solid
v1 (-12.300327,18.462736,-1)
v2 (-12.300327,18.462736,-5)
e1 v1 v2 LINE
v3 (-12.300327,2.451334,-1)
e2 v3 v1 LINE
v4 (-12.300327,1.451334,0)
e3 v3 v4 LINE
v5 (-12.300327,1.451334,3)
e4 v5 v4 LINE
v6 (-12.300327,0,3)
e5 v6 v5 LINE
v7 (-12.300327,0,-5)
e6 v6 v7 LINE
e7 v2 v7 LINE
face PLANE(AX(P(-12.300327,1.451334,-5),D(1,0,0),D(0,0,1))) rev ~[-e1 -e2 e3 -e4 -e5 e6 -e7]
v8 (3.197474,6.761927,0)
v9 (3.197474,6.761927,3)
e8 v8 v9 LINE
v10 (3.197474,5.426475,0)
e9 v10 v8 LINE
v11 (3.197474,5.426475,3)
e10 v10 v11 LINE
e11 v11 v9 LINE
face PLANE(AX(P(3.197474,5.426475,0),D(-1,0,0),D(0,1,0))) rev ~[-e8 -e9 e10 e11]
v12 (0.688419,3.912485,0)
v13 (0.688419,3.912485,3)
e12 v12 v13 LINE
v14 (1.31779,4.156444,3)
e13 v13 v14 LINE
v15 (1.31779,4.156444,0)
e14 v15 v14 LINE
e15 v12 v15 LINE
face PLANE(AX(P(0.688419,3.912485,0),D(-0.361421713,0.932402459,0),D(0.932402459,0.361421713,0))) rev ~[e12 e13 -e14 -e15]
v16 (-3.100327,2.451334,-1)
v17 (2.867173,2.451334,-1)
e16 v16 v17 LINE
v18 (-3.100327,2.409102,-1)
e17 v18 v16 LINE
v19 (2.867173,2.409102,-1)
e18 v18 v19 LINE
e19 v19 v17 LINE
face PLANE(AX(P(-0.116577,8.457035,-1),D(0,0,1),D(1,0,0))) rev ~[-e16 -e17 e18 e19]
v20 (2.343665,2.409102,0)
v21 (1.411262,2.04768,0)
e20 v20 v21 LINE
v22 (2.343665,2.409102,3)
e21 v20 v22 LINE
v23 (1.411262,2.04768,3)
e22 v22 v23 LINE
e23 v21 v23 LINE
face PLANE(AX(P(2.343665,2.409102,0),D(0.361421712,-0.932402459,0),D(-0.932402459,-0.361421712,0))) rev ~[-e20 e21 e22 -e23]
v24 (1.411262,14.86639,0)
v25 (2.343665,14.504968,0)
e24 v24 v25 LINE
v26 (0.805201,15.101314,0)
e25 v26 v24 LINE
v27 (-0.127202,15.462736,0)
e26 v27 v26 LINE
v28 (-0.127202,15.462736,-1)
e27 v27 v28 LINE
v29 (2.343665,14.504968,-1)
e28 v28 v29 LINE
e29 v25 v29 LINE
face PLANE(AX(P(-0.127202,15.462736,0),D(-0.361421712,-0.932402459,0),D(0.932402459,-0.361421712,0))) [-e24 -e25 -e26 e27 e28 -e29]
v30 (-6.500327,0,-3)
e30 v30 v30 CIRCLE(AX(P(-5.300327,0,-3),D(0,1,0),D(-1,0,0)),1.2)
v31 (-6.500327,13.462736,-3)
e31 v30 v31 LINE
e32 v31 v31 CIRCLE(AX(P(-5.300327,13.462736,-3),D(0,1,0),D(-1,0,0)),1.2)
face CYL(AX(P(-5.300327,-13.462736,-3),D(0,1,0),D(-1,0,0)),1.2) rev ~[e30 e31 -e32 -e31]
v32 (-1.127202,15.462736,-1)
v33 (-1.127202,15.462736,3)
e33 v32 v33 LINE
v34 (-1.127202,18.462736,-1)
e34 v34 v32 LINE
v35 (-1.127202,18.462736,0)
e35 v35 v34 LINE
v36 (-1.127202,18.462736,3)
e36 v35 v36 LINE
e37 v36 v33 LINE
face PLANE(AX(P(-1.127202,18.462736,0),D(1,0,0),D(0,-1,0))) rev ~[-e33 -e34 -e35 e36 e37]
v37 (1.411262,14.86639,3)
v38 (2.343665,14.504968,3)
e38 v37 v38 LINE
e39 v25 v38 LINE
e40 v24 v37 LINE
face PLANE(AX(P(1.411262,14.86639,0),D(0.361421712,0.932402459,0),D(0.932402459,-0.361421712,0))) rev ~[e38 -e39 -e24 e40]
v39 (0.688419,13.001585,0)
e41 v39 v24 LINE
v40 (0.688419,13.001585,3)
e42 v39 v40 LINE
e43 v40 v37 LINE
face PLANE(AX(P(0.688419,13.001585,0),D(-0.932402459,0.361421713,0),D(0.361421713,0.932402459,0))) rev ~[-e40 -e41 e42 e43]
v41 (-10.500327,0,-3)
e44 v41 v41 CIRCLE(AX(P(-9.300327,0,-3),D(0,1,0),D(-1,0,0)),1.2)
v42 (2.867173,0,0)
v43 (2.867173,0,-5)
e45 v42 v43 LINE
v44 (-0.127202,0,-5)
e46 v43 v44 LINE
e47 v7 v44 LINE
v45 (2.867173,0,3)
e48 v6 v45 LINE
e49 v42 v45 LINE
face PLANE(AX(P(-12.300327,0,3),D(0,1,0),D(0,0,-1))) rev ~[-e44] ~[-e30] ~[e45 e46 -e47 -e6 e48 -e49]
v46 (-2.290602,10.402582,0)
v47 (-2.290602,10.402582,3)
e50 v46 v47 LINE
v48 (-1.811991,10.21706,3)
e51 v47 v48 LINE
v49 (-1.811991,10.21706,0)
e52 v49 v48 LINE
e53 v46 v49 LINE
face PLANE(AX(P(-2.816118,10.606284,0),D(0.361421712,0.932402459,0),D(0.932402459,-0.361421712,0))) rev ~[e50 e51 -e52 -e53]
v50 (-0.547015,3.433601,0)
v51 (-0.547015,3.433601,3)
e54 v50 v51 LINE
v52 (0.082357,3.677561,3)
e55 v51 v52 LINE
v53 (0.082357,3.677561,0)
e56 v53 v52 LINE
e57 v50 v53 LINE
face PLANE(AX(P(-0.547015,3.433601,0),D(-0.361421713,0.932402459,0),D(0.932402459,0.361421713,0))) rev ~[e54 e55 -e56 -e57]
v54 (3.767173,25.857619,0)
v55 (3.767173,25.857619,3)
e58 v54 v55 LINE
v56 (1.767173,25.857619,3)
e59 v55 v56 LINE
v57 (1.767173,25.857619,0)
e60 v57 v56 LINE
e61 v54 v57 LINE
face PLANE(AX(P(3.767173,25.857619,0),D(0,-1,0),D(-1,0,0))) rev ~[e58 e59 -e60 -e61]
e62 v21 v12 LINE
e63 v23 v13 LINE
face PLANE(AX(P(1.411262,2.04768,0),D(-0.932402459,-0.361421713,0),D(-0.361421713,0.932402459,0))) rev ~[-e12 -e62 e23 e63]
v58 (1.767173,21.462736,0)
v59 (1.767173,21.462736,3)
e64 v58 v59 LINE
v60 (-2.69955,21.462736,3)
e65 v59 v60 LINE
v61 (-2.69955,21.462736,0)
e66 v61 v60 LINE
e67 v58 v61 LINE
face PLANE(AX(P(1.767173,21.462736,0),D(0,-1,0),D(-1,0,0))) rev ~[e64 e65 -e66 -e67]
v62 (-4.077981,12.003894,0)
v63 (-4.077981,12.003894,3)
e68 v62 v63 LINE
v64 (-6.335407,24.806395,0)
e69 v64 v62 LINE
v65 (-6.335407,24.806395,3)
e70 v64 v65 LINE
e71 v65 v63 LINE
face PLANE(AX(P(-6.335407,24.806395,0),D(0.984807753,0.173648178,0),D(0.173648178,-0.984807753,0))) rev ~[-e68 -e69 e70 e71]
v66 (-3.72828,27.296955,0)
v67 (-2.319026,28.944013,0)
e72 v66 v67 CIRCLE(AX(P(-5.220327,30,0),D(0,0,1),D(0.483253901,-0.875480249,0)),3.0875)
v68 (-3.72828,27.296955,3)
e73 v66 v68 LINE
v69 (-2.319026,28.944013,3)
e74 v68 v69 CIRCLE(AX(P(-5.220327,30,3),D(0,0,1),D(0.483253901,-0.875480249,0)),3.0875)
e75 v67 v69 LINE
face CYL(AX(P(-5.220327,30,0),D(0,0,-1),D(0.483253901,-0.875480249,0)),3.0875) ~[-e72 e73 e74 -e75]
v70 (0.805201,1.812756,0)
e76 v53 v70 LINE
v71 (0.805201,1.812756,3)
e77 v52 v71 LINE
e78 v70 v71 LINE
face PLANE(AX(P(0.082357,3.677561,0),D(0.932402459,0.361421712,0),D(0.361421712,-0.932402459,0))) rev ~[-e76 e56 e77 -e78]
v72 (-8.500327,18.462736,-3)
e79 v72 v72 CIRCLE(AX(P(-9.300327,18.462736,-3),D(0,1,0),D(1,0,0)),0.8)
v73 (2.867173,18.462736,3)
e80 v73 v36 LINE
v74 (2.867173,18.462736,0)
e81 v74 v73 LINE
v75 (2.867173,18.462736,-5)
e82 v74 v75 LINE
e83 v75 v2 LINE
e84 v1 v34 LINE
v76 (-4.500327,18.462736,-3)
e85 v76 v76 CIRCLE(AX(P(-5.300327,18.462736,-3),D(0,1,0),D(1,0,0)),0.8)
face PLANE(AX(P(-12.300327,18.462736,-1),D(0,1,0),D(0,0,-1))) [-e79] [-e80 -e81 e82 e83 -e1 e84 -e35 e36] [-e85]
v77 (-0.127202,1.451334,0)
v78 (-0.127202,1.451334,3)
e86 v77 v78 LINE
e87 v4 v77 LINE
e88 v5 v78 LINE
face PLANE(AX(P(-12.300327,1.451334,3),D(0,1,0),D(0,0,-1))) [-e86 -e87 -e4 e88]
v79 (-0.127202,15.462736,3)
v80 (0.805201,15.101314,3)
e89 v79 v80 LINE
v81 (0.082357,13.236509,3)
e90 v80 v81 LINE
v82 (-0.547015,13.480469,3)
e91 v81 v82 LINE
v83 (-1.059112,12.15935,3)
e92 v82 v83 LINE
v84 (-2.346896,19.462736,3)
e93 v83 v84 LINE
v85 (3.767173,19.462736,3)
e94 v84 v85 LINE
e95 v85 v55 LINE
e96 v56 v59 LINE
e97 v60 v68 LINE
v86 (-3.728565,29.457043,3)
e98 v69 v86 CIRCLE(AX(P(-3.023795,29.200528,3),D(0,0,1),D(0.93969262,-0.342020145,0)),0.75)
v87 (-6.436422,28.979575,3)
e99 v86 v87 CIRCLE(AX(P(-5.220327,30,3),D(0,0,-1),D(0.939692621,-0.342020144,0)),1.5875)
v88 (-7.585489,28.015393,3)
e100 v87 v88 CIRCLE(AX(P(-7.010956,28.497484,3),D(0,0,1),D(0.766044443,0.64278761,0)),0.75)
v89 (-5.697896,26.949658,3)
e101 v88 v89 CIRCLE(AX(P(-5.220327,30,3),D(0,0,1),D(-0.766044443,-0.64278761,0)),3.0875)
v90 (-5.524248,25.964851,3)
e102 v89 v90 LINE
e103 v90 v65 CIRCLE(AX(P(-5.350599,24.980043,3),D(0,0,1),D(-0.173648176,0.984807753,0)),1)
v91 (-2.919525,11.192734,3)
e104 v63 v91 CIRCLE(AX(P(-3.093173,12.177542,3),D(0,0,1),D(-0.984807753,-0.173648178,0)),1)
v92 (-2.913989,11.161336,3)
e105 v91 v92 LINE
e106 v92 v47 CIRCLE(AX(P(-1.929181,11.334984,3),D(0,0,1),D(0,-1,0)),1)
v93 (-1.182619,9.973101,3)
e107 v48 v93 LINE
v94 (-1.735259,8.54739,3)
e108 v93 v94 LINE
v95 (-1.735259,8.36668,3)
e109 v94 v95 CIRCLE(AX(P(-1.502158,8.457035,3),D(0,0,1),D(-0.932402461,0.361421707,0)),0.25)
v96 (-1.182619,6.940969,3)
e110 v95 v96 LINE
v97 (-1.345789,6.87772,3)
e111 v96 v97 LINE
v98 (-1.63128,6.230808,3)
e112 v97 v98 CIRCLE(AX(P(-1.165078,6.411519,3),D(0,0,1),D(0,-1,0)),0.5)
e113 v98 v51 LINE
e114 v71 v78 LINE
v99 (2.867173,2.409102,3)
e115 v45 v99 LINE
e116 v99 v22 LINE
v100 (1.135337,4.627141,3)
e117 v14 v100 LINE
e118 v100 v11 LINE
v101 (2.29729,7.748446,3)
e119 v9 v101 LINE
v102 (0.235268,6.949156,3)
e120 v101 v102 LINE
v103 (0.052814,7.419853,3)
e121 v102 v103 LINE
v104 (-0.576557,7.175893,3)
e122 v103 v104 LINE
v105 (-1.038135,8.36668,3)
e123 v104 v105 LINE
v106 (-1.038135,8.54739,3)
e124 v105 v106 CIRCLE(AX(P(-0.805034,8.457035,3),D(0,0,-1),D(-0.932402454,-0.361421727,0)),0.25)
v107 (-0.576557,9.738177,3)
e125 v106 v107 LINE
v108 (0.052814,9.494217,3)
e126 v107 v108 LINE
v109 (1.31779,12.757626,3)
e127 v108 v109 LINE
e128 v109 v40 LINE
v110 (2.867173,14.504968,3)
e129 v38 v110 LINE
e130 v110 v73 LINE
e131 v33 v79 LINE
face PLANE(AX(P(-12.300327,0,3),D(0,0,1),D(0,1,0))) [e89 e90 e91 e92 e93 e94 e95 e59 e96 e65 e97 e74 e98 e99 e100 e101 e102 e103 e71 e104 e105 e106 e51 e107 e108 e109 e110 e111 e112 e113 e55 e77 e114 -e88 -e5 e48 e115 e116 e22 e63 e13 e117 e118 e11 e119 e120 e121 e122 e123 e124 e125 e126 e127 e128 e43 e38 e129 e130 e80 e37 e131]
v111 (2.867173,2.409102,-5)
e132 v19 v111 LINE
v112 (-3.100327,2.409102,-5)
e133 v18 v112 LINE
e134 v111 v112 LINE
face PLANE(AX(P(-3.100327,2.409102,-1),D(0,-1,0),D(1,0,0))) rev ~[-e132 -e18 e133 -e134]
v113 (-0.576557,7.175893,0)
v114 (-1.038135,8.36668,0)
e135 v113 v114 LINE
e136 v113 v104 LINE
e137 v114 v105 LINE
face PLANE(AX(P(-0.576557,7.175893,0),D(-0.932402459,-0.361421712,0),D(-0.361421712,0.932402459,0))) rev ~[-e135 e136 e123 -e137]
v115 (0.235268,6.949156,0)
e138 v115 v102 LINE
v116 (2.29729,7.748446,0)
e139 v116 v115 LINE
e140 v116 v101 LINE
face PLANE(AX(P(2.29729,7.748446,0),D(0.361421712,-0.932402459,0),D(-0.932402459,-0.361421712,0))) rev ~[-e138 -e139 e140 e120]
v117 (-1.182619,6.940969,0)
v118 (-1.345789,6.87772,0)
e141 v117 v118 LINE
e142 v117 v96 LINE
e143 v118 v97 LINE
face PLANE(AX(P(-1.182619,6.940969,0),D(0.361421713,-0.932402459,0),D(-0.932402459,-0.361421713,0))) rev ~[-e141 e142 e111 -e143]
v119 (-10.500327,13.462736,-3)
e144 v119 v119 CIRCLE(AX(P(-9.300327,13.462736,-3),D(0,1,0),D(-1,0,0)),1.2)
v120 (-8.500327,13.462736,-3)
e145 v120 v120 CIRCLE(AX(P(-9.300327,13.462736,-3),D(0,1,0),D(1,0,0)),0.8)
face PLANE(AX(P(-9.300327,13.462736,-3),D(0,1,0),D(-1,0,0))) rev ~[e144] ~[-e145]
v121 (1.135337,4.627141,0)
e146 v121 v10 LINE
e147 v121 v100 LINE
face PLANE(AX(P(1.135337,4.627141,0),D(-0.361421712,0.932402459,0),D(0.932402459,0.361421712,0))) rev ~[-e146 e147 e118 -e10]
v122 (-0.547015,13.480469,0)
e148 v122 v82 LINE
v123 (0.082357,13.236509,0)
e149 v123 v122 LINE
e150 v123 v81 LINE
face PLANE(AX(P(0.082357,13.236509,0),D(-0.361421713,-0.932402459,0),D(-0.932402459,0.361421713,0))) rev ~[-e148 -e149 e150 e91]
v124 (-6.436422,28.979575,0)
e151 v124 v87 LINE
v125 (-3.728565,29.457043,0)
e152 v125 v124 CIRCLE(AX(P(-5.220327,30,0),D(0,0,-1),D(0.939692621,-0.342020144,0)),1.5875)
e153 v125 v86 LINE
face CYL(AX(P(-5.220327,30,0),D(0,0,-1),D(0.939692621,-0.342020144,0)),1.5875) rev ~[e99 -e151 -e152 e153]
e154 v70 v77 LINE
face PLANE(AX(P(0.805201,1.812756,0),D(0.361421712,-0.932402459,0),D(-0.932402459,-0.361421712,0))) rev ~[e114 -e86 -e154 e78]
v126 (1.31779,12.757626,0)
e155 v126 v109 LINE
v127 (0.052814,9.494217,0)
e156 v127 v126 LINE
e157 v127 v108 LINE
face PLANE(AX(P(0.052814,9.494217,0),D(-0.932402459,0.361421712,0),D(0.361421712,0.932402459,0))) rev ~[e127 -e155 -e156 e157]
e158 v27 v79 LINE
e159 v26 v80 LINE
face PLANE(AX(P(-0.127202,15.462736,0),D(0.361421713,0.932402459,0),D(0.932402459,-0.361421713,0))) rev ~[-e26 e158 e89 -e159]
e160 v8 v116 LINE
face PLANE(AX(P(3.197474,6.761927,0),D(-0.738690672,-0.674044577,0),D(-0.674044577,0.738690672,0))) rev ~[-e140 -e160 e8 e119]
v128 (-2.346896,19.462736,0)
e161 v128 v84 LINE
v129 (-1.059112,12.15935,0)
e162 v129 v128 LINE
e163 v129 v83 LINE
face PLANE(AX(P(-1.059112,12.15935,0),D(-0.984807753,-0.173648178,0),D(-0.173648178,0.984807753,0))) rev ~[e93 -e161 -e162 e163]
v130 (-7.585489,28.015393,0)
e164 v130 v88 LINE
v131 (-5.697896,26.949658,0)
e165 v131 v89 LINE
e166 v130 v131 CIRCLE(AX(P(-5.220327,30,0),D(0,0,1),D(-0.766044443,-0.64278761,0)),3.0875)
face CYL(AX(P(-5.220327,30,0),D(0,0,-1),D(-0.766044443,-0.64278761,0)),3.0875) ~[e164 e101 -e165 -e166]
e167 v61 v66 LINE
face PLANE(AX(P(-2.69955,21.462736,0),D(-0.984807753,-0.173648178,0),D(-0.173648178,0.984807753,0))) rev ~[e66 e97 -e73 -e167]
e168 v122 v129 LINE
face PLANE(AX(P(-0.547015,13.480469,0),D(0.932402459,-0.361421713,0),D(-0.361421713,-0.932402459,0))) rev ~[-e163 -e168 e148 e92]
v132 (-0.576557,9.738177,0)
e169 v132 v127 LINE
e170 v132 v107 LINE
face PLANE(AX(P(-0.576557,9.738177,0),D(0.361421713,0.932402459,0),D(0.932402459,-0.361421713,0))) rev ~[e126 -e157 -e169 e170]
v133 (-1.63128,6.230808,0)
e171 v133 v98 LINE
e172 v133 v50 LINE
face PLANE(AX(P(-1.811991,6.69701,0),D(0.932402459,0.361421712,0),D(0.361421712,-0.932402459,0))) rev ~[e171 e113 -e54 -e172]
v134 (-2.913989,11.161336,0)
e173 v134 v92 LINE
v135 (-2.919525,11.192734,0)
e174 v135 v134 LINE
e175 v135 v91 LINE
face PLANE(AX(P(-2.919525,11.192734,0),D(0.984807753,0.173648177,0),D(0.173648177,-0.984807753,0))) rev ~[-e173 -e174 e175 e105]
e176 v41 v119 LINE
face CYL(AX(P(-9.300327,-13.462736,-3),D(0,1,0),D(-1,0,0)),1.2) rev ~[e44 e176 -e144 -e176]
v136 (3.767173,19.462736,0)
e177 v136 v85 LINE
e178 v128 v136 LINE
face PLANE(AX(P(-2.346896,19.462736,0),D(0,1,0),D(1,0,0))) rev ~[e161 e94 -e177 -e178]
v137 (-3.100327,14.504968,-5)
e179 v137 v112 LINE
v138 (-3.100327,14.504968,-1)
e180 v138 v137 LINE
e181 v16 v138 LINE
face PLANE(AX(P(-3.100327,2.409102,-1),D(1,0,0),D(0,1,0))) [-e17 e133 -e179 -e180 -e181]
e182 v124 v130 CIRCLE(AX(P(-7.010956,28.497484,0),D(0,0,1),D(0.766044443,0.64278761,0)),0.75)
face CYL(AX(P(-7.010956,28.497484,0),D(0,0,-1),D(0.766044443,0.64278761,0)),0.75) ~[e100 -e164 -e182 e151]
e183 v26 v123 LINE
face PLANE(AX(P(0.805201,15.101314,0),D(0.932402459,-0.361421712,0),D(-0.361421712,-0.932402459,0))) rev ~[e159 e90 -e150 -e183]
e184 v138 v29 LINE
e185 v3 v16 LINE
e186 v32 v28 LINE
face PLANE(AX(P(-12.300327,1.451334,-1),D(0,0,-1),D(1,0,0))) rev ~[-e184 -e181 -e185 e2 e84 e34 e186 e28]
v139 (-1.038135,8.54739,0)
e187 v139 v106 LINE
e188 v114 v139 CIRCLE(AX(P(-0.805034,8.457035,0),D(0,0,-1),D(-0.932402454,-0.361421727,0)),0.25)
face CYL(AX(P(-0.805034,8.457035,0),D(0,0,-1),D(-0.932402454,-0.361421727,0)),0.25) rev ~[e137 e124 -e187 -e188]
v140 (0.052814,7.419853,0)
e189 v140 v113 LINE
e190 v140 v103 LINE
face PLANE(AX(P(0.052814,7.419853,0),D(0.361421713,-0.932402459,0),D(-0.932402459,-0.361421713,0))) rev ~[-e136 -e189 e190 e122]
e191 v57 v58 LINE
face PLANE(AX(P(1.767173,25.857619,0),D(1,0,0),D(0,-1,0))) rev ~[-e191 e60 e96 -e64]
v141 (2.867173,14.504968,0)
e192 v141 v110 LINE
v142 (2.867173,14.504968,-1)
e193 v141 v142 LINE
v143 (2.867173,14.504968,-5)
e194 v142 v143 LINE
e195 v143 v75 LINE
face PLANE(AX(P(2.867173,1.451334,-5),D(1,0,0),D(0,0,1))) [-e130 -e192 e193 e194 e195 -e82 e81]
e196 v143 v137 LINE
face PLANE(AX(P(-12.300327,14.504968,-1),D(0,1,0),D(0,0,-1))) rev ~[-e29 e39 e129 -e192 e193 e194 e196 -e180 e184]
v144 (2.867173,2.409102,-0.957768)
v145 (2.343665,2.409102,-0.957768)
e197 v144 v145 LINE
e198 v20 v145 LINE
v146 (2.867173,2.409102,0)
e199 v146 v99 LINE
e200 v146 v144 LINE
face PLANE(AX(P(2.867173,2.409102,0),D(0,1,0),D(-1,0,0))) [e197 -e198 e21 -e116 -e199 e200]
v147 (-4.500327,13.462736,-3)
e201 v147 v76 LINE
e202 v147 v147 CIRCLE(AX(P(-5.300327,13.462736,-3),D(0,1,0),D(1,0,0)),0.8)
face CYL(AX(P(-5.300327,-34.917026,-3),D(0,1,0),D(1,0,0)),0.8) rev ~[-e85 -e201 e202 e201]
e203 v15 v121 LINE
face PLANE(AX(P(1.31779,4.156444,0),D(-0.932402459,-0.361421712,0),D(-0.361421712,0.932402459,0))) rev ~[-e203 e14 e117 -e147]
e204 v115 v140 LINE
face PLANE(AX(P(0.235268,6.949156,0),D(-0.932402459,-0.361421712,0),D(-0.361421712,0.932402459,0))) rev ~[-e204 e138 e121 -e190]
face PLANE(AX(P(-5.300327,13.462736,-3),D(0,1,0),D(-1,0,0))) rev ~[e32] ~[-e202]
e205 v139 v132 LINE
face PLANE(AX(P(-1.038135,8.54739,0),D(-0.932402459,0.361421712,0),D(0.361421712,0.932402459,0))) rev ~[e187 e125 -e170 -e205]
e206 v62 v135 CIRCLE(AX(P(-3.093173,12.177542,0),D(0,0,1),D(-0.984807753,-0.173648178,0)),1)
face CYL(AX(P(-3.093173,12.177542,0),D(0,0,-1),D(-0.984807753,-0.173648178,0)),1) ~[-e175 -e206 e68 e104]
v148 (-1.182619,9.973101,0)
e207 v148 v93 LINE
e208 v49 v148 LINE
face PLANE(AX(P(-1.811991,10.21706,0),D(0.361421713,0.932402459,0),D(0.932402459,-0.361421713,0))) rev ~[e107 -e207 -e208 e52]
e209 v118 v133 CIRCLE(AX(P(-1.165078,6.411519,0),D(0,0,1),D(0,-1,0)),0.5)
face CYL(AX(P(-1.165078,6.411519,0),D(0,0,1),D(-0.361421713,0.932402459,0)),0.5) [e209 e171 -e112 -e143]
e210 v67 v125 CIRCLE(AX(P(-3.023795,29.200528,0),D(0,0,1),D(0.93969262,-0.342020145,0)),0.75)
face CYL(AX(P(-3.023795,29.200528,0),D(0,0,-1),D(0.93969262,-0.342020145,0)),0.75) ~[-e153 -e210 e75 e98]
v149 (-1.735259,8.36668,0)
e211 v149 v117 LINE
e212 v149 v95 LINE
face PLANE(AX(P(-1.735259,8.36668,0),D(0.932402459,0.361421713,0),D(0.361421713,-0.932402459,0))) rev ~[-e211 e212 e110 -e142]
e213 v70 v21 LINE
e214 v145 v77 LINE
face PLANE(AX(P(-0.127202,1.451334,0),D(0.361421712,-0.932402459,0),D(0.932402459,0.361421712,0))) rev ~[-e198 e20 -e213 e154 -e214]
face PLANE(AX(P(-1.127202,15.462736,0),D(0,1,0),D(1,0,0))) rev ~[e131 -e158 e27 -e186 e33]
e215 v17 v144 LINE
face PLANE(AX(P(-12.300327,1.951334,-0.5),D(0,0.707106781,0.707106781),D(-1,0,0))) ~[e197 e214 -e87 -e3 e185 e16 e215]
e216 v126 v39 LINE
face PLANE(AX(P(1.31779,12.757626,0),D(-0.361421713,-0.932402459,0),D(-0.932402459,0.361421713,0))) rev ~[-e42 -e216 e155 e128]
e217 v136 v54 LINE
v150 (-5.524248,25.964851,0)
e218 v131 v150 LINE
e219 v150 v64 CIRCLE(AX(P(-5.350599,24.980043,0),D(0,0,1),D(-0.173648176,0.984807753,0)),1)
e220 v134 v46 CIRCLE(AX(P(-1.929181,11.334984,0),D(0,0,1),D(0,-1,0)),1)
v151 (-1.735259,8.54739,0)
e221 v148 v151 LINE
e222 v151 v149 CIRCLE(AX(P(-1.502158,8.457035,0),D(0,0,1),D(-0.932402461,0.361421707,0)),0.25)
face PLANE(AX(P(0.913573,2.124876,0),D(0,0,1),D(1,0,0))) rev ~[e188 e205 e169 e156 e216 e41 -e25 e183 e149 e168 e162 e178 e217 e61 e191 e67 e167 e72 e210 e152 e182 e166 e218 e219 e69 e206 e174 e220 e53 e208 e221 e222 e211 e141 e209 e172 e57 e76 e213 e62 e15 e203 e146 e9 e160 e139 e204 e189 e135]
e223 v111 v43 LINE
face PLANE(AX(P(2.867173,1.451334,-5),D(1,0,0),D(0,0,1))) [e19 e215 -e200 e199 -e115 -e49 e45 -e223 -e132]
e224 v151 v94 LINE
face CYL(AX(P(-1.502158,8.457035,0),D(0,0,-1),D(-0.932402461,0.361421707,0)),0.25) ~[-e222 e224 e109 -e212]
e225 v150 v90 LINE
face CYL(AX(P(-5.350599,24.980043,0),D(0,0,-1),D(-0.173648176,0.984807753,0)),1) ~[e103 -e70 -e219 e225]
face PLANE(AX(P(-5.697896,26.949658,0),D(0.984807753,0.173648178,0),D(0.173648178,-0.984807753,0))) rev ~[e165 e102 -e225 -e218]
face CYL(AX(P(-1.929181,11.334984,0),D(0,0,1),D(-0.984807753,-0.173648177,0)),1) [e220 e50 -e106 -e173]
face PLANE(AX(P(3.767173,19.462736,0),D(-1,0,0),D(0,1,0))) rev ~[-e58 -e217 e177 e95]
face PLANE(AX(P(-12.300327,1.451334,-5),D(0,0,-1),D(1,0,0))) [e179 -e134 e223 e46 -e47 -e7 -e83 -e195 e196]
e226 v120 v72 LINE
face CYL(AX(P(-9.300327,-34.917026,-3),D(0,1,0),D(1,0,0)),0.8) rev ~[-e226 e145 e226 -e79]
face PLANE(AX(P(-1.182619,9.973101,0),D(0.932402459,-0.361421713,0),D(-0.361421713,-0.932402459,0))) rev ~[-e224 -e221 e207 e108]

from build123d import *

# Parameters (mm, degrees)
BOSS_SWITCH_BODY_DEPTH            = 3
SKETCH1_W                         = 2.994375291
SKETCH1_H                         = 2.409101515
SKETCH1_W_2                       = 3.994375291
SKETCH1_H_2                       = 3.957767538
BOSS_FLANGE_WIDTH_DEPTH           = 5
BOSS_FLANGE_HEIGHT_REACH          = 36.354
SKETCH2_W                         = 4
SKETCH2_H                         = 3.957767538
SKETCH2_W_2                       = 8
SKETCH2_H_2                       = 1.451333978
SKETCH17_W                        = 15.1675
SKETCH17_H                        = 4
BOSS_FLANGE_SUPPORT_DEPTH         = 13.053634428
CUT_WALL_GAP_DEPTH                = 1
TAP_DRILL_FOR_M2X0_4_TAP1_D       = 1.6
M2_CLEARANCE_HOLE2_D              = 2.4
M2_CLEARANCE_HOLE2_DEPTH          = 13.462735941
CHAMFER_FLANGE_SUPPORT_3_SIZE     = 1
FILLET1_R                         = 1
FILLET2_R                         = 0.5
SKETCH28_W                        = 5.9675
SKETCH28_H                        = 12.095866891
CUT_PRINT_SUPPORT_CLEARANCE_DEPTH = 33.624103931


with BuildPart() as part:
    # Sketch-SwitchBossUp → Boss-Switch Body (new body)
    with BuildSketch(Plane.XY):
        with BuildLine():
            Line((-5.697895702, 26.949658376), (-5.524247524, 25.964850623))
            ThreePointArc((-5.524247524, 25.964850623), (-6.169751391, 25.553619307), (-6.3354071, 24.806394693))
            Line((-6.3354071, 24.806394693), (-4.07798079, 12.003893904))
            ThreePointArc((-4.07798079, 12.003893904), (-3.666749473, 11.358390037), (-2.919524859, 11.192734328))
            Line((-2.919524859, 11.192734328), (-2.816117912, 10.606284387))
            Line((-2.816117912, 10.606284387), (-1.811990528, 10.217060362))
            Line((-1.811990528, 10.217060362), (-1.182618868, 9.973100706))
            Line((-1.182618868, 9.973100706), (-1.735258621, 8.547390389))
            ThreePointArc((-1.735258621, 8.547390389), (-1.752158006, 8.457034961), (-1.735258621, 8.366679532))
            Line((-1.735258621, 8.366679532), (-1.182618868, 6.940969215))
            Line((-1.182618868, 6.940969215), (-1.811990528, 6.697009559))
            Line((-1.811990528, 6.697009559), (-0.547014535, 3.433600952))
            Line((-0.547014535, 3.433600952), (0.082357125, 3.677560608))
            Line((0.082357125, 3.677560608), (0.805200549, 1.81275569))
            Line((0.805200549, 1.81275569), (-0.12720191, 1.451333978))
            Line((-0.12720191, 1.451333978), (-0.12720191, 0))
            Line((-0.12720191, 0), (2.867173381, 0))
            Line((2.867173381, 0), (2.867173381, 2.409101515))
            Line((2.867173381, 2.409101515), (2.343664607, 2.409101515))
            Line((2.343664607, 2.409101515), (1.411262148, 2.047679803))
            Line((1.411262148, 2.047679803), (0.688418723, 3.912484721))
            Line((0.688418723, 3.912484721), (1.317790383, 4.156444377))
            Line((1.317790383, 4.156444377), (1.13533703, 4.627140933))
            Line((1.13533703, 4.627140933), (3.197473995, 5.426475025))
            Line((3.197473995, 5.426475025), (3.197473995, 6.761927069))
            Line((3.197473995, 6.761927069), (2.297289747, 7.748445958))
            Line((2.297289747, 7.748445958), (0.235267743, 6.949156428))
            Line((0.235267743, 6.949156428), (0.05281439, 7.419852984))
            Line((0.05281439, 7.419852984), (-0.57655727, 7.175893328))
            Line((-0.57655727, 7.175893328), (-1.038134762, 8.366679532))
            ThreePointArc((-1.038134762, 8.366679532), (-1.055034148, 8.457034961), (-1.038134762, 8.547390389))
            Line((-1.038134762, 8.547390389), (-0.57655727, 9.738176593))
            Line((-0.57655727, 9.738176593), (0.05281439, 9.494216937))
            Line((0.05281439, 9.494216937), (1.317790383, 12.757625544))
            Line((1.317790383, 12.757625544), (0.688418723, 13.0015852))
            Line((0.688418723, 13.0015852), (1.411262148, 14.866390118))
            Line((1.411262148, 14.866390118), (2.343664607, 14.504968406))
            Line((2.343664607, 14.504968406), (2.867173381, 14.504968406))
            Line((2.867173381, 14.504968406), (2.867173381, 18.462735944))
            Line((2.867173381, 18.462735944), (-0.111637615, 18.462735944))
            Line((-0.111637615, 18.462735944), (-1.12720191, 18.462735944))
            Line((-1.12720191, 18.462735944), (-1.12720191, 15.462735944))
            Line((-1.12720191, 15.462735944), (-0.12720191, 15.462735944))
            Line((-0.12720191, 15.462735944), (0.805200549, 15.101314231))
            Line((0.805200549, 15.101314231), (0.082357125, 13.236509313))
            Line((0.082357125, 13.236509313), (-0.547014535, 13.480468969))
            Line((-0.547014535, 13.480468969), (-1.059112089, 12.159350171))
            Line((-1.059112089, 12.159350171), (-2.346896051, 19.462735944))
            Line((-2.346896051, 19.462735944), (3.767173381, 19.462735944))
            Line((3.767173381, 19.462735944), (3.767173381, 25.857619356))
            Line((3.767173381, 25.857619356), (1.767173381, 25.857619356))
            Line((1.767173381, 25.857619356), (1.767173381, 21.462735944))
            Line((1.767173381, 21.462735944), (-2.699550012, 21.462735944))
            Line((-2.699550012, 21.462735944), (-3.728280196, 27.296954732))
            ThreePointArc((-3.728280196, 27.296954732), (-2.874356585, 27.992742953), (-2.319025652, 28.944012807))
            ThreePointArc((-2.319025652, 28.944012807), (-2.76728001, 29.905297381), (-3.728564583, 29.457043022))
            ThreePointArc((-3.728564583, 29.457043022), (-4.944660137, 28.436617692), (-6.436422172, 28.97957467))
            ThreePointArc((-6.436422172, 28.97957467), (-7.493046212, 29.072017295), (-7.585488837, 28.015393255))
            ThreePointArc((-7.585488837, 28.015393255), (-6.738295005, 27.311426358), (-5.697895702, 26.949658376))
        make_face()
    extrude(amount=BOSS_SWITCH_BODY_DEPTH)

    # Sketch1 → Boss-Flange Width (add)
    with BuildSketch(Plane(origin=(0, 0, 0), x_dir=(-1, 0, 0), z_dir=(0, 0, -1))):
        with Locations((-1.369985736, 1.204550758)):
            Rectangle(SKETCH1_W, SKETCH1_H)
        with Locations((-0.869985736, 16.483852175)):
            Rectangle(SKETCH1_W_2, SKETCH1_H_2)
    extrude(amount=BOSS_FLANGE_WIDTH_DEPTH)

    # Boss-Flange Height: up to this face of the body (flat: up to its plane)
    boss_flange_height_end = Plane(part.part.faces().sort_by_distance((-0.12720191, 1.077409098, -1.438016547))[0])
    # Sketch2 → Boss-Flange Height (add, up to the picked face)
    with BuildSketch(Plane(origin=(-12.300326619, 0, 0), x_dir=(0, 0, -1), z_dir=(1, 0, 0)), mode=Mode.PRIVATE) as boss_flange_height_sk1:
        with Locations((3, 16.483852175)):
            Rectangle(SKETCH2_W, SKETCH2_H)
    boss_flange_height_tool1 = split(extrude(boss_flange_height_sk1.sketch, amount=BOSS_FLANGE_HEIGHT_REACH, mode=Mode.PRIVATE), bisect_by=boss_flange_height_end, keep=Keep.BOTH, mode=Mode.PRIVATE)
    # Sketch2 → Boss-Flange Height (add, up to the picked face)
    with BuildSketch(Plane(origin=(-12.300326619, 0, 0), x_dir=(0, 0, -1), z_dir=(1, 0, 0)), mode=Mode.PRIVATE) as boss_flange_height_sk2:
        with Locations((1, 0.725666989)):
            Rectangle(SKETCH2_W_2, SKETCH2_H_2)
    boss_flange_height_tool2 = split(extrude(boss_flange_height_sk2.sketch, amount=BOSS_FLANGE_HEIGHT_REACH, mode=Mode.PRIVATE), bisect_by=boss_flange_height_end, keep=Keep.BOTH, mode=Mode.PRIVATE)
    add(boss_flange_height_tool1.solids().sort_by(Axis((-12.300327, 16.483852, -3), (1, 0, 0)))[0])
    add(boss_flange_height_tool2.solids().sort_by(Axis((-12.300327, 0.725667, -1), (1, 0, 0)))[0])

    # Sketch17 → Boss-Flange Support (add)
    with BuildSketch(Plane.XZ.offset(-1.451333978)):
        with Locations((-4.716576619, -3)):
            Rectangle(SKETCH17_W, SKETCH17_H)
    extrude(amount=-BOSS_FLANGE_SUPPORT_DEPTH)

    # Sketch27 → Cut-Wall Gap (cut)
    with BuildSketch(Plane.XY):
        Polygon((-0.12720191, 15.462735944), (2.343664607, 14.504968406), (-1.12720191, 14.504968406), (-1.12720191, 15.462735944), align=None)
        Polygon((2.343664607, 2.409101515), (-0.12720191, 2.409101515), (-0.12720191, 1.451333978), align=None)
    extrude(amount=-CUT_WALL_GAP_DEPTH, mode=Mode.SUBTRACT)

    # Tap Drill for M2x0.4 Tap1 (through all)
    with Locations(Plane(origin=(0, 0, 0), x_dir=(-1, 0, 0), z_dir=(0, -1, 0))):
        with Locations((9.300326619, 3), (5.300326619, 3)):
            Hole(TAP_DRILL_FOR_M2X0_4_TAP1_D / 2)

    # M2 Clearance Hole2
    with Locations(Plane.XZ):
        with Locations((-9.300326619, -3), (-5.300326619, -3)):
            Hole(M2_CLEARANCE_HOLE2_D / 2, depth=M2_CLEARANCE_HOLE2_DEPTH)

    # Chamfer-Flange Support 3
    chamfer_flange_support_3_edges = [part.edges().sort_by_distance(p)[0] for p in [
        (-6.213764264, 1.451333978, -1),
    ]]
    chamfer(chamfer_flange_support_3_edges, length=CHAMFER_FLANGE_SUPPORT_3_SIZE)

    # Fillet1
    fillet1_edges = [part.edges().sort_by_distance(p)[0] for p in [
        (-2.816117912, 10.606284387, 1.5),
    ]]
    fillet(fillet1_edges, radius=FILLET1_R)

    # Fillet2
    fillet2_edges = [part.edges().sort_by_distance(p)[0] for p in [
        (-1.811990528, 6.697009559, 1.5),
    ]]
    fillet(fillet2_edges, radius=FILLET2_R)

    # Sketch28 → Cut-Print Support Clearance (cut, through all)
    with BuildSketch(Plane.XY.offset(-1)):
        with Locations((-0.116576619, 8.457034961)):
            Rectangle(SKETCH28_W, SKETCH28_H)
    extrude(amount=-CUT_PRINT_SUPPORT_CLEARANCE_DEPTH, mode=Mode.SUBTRACT)


solid = part.part
